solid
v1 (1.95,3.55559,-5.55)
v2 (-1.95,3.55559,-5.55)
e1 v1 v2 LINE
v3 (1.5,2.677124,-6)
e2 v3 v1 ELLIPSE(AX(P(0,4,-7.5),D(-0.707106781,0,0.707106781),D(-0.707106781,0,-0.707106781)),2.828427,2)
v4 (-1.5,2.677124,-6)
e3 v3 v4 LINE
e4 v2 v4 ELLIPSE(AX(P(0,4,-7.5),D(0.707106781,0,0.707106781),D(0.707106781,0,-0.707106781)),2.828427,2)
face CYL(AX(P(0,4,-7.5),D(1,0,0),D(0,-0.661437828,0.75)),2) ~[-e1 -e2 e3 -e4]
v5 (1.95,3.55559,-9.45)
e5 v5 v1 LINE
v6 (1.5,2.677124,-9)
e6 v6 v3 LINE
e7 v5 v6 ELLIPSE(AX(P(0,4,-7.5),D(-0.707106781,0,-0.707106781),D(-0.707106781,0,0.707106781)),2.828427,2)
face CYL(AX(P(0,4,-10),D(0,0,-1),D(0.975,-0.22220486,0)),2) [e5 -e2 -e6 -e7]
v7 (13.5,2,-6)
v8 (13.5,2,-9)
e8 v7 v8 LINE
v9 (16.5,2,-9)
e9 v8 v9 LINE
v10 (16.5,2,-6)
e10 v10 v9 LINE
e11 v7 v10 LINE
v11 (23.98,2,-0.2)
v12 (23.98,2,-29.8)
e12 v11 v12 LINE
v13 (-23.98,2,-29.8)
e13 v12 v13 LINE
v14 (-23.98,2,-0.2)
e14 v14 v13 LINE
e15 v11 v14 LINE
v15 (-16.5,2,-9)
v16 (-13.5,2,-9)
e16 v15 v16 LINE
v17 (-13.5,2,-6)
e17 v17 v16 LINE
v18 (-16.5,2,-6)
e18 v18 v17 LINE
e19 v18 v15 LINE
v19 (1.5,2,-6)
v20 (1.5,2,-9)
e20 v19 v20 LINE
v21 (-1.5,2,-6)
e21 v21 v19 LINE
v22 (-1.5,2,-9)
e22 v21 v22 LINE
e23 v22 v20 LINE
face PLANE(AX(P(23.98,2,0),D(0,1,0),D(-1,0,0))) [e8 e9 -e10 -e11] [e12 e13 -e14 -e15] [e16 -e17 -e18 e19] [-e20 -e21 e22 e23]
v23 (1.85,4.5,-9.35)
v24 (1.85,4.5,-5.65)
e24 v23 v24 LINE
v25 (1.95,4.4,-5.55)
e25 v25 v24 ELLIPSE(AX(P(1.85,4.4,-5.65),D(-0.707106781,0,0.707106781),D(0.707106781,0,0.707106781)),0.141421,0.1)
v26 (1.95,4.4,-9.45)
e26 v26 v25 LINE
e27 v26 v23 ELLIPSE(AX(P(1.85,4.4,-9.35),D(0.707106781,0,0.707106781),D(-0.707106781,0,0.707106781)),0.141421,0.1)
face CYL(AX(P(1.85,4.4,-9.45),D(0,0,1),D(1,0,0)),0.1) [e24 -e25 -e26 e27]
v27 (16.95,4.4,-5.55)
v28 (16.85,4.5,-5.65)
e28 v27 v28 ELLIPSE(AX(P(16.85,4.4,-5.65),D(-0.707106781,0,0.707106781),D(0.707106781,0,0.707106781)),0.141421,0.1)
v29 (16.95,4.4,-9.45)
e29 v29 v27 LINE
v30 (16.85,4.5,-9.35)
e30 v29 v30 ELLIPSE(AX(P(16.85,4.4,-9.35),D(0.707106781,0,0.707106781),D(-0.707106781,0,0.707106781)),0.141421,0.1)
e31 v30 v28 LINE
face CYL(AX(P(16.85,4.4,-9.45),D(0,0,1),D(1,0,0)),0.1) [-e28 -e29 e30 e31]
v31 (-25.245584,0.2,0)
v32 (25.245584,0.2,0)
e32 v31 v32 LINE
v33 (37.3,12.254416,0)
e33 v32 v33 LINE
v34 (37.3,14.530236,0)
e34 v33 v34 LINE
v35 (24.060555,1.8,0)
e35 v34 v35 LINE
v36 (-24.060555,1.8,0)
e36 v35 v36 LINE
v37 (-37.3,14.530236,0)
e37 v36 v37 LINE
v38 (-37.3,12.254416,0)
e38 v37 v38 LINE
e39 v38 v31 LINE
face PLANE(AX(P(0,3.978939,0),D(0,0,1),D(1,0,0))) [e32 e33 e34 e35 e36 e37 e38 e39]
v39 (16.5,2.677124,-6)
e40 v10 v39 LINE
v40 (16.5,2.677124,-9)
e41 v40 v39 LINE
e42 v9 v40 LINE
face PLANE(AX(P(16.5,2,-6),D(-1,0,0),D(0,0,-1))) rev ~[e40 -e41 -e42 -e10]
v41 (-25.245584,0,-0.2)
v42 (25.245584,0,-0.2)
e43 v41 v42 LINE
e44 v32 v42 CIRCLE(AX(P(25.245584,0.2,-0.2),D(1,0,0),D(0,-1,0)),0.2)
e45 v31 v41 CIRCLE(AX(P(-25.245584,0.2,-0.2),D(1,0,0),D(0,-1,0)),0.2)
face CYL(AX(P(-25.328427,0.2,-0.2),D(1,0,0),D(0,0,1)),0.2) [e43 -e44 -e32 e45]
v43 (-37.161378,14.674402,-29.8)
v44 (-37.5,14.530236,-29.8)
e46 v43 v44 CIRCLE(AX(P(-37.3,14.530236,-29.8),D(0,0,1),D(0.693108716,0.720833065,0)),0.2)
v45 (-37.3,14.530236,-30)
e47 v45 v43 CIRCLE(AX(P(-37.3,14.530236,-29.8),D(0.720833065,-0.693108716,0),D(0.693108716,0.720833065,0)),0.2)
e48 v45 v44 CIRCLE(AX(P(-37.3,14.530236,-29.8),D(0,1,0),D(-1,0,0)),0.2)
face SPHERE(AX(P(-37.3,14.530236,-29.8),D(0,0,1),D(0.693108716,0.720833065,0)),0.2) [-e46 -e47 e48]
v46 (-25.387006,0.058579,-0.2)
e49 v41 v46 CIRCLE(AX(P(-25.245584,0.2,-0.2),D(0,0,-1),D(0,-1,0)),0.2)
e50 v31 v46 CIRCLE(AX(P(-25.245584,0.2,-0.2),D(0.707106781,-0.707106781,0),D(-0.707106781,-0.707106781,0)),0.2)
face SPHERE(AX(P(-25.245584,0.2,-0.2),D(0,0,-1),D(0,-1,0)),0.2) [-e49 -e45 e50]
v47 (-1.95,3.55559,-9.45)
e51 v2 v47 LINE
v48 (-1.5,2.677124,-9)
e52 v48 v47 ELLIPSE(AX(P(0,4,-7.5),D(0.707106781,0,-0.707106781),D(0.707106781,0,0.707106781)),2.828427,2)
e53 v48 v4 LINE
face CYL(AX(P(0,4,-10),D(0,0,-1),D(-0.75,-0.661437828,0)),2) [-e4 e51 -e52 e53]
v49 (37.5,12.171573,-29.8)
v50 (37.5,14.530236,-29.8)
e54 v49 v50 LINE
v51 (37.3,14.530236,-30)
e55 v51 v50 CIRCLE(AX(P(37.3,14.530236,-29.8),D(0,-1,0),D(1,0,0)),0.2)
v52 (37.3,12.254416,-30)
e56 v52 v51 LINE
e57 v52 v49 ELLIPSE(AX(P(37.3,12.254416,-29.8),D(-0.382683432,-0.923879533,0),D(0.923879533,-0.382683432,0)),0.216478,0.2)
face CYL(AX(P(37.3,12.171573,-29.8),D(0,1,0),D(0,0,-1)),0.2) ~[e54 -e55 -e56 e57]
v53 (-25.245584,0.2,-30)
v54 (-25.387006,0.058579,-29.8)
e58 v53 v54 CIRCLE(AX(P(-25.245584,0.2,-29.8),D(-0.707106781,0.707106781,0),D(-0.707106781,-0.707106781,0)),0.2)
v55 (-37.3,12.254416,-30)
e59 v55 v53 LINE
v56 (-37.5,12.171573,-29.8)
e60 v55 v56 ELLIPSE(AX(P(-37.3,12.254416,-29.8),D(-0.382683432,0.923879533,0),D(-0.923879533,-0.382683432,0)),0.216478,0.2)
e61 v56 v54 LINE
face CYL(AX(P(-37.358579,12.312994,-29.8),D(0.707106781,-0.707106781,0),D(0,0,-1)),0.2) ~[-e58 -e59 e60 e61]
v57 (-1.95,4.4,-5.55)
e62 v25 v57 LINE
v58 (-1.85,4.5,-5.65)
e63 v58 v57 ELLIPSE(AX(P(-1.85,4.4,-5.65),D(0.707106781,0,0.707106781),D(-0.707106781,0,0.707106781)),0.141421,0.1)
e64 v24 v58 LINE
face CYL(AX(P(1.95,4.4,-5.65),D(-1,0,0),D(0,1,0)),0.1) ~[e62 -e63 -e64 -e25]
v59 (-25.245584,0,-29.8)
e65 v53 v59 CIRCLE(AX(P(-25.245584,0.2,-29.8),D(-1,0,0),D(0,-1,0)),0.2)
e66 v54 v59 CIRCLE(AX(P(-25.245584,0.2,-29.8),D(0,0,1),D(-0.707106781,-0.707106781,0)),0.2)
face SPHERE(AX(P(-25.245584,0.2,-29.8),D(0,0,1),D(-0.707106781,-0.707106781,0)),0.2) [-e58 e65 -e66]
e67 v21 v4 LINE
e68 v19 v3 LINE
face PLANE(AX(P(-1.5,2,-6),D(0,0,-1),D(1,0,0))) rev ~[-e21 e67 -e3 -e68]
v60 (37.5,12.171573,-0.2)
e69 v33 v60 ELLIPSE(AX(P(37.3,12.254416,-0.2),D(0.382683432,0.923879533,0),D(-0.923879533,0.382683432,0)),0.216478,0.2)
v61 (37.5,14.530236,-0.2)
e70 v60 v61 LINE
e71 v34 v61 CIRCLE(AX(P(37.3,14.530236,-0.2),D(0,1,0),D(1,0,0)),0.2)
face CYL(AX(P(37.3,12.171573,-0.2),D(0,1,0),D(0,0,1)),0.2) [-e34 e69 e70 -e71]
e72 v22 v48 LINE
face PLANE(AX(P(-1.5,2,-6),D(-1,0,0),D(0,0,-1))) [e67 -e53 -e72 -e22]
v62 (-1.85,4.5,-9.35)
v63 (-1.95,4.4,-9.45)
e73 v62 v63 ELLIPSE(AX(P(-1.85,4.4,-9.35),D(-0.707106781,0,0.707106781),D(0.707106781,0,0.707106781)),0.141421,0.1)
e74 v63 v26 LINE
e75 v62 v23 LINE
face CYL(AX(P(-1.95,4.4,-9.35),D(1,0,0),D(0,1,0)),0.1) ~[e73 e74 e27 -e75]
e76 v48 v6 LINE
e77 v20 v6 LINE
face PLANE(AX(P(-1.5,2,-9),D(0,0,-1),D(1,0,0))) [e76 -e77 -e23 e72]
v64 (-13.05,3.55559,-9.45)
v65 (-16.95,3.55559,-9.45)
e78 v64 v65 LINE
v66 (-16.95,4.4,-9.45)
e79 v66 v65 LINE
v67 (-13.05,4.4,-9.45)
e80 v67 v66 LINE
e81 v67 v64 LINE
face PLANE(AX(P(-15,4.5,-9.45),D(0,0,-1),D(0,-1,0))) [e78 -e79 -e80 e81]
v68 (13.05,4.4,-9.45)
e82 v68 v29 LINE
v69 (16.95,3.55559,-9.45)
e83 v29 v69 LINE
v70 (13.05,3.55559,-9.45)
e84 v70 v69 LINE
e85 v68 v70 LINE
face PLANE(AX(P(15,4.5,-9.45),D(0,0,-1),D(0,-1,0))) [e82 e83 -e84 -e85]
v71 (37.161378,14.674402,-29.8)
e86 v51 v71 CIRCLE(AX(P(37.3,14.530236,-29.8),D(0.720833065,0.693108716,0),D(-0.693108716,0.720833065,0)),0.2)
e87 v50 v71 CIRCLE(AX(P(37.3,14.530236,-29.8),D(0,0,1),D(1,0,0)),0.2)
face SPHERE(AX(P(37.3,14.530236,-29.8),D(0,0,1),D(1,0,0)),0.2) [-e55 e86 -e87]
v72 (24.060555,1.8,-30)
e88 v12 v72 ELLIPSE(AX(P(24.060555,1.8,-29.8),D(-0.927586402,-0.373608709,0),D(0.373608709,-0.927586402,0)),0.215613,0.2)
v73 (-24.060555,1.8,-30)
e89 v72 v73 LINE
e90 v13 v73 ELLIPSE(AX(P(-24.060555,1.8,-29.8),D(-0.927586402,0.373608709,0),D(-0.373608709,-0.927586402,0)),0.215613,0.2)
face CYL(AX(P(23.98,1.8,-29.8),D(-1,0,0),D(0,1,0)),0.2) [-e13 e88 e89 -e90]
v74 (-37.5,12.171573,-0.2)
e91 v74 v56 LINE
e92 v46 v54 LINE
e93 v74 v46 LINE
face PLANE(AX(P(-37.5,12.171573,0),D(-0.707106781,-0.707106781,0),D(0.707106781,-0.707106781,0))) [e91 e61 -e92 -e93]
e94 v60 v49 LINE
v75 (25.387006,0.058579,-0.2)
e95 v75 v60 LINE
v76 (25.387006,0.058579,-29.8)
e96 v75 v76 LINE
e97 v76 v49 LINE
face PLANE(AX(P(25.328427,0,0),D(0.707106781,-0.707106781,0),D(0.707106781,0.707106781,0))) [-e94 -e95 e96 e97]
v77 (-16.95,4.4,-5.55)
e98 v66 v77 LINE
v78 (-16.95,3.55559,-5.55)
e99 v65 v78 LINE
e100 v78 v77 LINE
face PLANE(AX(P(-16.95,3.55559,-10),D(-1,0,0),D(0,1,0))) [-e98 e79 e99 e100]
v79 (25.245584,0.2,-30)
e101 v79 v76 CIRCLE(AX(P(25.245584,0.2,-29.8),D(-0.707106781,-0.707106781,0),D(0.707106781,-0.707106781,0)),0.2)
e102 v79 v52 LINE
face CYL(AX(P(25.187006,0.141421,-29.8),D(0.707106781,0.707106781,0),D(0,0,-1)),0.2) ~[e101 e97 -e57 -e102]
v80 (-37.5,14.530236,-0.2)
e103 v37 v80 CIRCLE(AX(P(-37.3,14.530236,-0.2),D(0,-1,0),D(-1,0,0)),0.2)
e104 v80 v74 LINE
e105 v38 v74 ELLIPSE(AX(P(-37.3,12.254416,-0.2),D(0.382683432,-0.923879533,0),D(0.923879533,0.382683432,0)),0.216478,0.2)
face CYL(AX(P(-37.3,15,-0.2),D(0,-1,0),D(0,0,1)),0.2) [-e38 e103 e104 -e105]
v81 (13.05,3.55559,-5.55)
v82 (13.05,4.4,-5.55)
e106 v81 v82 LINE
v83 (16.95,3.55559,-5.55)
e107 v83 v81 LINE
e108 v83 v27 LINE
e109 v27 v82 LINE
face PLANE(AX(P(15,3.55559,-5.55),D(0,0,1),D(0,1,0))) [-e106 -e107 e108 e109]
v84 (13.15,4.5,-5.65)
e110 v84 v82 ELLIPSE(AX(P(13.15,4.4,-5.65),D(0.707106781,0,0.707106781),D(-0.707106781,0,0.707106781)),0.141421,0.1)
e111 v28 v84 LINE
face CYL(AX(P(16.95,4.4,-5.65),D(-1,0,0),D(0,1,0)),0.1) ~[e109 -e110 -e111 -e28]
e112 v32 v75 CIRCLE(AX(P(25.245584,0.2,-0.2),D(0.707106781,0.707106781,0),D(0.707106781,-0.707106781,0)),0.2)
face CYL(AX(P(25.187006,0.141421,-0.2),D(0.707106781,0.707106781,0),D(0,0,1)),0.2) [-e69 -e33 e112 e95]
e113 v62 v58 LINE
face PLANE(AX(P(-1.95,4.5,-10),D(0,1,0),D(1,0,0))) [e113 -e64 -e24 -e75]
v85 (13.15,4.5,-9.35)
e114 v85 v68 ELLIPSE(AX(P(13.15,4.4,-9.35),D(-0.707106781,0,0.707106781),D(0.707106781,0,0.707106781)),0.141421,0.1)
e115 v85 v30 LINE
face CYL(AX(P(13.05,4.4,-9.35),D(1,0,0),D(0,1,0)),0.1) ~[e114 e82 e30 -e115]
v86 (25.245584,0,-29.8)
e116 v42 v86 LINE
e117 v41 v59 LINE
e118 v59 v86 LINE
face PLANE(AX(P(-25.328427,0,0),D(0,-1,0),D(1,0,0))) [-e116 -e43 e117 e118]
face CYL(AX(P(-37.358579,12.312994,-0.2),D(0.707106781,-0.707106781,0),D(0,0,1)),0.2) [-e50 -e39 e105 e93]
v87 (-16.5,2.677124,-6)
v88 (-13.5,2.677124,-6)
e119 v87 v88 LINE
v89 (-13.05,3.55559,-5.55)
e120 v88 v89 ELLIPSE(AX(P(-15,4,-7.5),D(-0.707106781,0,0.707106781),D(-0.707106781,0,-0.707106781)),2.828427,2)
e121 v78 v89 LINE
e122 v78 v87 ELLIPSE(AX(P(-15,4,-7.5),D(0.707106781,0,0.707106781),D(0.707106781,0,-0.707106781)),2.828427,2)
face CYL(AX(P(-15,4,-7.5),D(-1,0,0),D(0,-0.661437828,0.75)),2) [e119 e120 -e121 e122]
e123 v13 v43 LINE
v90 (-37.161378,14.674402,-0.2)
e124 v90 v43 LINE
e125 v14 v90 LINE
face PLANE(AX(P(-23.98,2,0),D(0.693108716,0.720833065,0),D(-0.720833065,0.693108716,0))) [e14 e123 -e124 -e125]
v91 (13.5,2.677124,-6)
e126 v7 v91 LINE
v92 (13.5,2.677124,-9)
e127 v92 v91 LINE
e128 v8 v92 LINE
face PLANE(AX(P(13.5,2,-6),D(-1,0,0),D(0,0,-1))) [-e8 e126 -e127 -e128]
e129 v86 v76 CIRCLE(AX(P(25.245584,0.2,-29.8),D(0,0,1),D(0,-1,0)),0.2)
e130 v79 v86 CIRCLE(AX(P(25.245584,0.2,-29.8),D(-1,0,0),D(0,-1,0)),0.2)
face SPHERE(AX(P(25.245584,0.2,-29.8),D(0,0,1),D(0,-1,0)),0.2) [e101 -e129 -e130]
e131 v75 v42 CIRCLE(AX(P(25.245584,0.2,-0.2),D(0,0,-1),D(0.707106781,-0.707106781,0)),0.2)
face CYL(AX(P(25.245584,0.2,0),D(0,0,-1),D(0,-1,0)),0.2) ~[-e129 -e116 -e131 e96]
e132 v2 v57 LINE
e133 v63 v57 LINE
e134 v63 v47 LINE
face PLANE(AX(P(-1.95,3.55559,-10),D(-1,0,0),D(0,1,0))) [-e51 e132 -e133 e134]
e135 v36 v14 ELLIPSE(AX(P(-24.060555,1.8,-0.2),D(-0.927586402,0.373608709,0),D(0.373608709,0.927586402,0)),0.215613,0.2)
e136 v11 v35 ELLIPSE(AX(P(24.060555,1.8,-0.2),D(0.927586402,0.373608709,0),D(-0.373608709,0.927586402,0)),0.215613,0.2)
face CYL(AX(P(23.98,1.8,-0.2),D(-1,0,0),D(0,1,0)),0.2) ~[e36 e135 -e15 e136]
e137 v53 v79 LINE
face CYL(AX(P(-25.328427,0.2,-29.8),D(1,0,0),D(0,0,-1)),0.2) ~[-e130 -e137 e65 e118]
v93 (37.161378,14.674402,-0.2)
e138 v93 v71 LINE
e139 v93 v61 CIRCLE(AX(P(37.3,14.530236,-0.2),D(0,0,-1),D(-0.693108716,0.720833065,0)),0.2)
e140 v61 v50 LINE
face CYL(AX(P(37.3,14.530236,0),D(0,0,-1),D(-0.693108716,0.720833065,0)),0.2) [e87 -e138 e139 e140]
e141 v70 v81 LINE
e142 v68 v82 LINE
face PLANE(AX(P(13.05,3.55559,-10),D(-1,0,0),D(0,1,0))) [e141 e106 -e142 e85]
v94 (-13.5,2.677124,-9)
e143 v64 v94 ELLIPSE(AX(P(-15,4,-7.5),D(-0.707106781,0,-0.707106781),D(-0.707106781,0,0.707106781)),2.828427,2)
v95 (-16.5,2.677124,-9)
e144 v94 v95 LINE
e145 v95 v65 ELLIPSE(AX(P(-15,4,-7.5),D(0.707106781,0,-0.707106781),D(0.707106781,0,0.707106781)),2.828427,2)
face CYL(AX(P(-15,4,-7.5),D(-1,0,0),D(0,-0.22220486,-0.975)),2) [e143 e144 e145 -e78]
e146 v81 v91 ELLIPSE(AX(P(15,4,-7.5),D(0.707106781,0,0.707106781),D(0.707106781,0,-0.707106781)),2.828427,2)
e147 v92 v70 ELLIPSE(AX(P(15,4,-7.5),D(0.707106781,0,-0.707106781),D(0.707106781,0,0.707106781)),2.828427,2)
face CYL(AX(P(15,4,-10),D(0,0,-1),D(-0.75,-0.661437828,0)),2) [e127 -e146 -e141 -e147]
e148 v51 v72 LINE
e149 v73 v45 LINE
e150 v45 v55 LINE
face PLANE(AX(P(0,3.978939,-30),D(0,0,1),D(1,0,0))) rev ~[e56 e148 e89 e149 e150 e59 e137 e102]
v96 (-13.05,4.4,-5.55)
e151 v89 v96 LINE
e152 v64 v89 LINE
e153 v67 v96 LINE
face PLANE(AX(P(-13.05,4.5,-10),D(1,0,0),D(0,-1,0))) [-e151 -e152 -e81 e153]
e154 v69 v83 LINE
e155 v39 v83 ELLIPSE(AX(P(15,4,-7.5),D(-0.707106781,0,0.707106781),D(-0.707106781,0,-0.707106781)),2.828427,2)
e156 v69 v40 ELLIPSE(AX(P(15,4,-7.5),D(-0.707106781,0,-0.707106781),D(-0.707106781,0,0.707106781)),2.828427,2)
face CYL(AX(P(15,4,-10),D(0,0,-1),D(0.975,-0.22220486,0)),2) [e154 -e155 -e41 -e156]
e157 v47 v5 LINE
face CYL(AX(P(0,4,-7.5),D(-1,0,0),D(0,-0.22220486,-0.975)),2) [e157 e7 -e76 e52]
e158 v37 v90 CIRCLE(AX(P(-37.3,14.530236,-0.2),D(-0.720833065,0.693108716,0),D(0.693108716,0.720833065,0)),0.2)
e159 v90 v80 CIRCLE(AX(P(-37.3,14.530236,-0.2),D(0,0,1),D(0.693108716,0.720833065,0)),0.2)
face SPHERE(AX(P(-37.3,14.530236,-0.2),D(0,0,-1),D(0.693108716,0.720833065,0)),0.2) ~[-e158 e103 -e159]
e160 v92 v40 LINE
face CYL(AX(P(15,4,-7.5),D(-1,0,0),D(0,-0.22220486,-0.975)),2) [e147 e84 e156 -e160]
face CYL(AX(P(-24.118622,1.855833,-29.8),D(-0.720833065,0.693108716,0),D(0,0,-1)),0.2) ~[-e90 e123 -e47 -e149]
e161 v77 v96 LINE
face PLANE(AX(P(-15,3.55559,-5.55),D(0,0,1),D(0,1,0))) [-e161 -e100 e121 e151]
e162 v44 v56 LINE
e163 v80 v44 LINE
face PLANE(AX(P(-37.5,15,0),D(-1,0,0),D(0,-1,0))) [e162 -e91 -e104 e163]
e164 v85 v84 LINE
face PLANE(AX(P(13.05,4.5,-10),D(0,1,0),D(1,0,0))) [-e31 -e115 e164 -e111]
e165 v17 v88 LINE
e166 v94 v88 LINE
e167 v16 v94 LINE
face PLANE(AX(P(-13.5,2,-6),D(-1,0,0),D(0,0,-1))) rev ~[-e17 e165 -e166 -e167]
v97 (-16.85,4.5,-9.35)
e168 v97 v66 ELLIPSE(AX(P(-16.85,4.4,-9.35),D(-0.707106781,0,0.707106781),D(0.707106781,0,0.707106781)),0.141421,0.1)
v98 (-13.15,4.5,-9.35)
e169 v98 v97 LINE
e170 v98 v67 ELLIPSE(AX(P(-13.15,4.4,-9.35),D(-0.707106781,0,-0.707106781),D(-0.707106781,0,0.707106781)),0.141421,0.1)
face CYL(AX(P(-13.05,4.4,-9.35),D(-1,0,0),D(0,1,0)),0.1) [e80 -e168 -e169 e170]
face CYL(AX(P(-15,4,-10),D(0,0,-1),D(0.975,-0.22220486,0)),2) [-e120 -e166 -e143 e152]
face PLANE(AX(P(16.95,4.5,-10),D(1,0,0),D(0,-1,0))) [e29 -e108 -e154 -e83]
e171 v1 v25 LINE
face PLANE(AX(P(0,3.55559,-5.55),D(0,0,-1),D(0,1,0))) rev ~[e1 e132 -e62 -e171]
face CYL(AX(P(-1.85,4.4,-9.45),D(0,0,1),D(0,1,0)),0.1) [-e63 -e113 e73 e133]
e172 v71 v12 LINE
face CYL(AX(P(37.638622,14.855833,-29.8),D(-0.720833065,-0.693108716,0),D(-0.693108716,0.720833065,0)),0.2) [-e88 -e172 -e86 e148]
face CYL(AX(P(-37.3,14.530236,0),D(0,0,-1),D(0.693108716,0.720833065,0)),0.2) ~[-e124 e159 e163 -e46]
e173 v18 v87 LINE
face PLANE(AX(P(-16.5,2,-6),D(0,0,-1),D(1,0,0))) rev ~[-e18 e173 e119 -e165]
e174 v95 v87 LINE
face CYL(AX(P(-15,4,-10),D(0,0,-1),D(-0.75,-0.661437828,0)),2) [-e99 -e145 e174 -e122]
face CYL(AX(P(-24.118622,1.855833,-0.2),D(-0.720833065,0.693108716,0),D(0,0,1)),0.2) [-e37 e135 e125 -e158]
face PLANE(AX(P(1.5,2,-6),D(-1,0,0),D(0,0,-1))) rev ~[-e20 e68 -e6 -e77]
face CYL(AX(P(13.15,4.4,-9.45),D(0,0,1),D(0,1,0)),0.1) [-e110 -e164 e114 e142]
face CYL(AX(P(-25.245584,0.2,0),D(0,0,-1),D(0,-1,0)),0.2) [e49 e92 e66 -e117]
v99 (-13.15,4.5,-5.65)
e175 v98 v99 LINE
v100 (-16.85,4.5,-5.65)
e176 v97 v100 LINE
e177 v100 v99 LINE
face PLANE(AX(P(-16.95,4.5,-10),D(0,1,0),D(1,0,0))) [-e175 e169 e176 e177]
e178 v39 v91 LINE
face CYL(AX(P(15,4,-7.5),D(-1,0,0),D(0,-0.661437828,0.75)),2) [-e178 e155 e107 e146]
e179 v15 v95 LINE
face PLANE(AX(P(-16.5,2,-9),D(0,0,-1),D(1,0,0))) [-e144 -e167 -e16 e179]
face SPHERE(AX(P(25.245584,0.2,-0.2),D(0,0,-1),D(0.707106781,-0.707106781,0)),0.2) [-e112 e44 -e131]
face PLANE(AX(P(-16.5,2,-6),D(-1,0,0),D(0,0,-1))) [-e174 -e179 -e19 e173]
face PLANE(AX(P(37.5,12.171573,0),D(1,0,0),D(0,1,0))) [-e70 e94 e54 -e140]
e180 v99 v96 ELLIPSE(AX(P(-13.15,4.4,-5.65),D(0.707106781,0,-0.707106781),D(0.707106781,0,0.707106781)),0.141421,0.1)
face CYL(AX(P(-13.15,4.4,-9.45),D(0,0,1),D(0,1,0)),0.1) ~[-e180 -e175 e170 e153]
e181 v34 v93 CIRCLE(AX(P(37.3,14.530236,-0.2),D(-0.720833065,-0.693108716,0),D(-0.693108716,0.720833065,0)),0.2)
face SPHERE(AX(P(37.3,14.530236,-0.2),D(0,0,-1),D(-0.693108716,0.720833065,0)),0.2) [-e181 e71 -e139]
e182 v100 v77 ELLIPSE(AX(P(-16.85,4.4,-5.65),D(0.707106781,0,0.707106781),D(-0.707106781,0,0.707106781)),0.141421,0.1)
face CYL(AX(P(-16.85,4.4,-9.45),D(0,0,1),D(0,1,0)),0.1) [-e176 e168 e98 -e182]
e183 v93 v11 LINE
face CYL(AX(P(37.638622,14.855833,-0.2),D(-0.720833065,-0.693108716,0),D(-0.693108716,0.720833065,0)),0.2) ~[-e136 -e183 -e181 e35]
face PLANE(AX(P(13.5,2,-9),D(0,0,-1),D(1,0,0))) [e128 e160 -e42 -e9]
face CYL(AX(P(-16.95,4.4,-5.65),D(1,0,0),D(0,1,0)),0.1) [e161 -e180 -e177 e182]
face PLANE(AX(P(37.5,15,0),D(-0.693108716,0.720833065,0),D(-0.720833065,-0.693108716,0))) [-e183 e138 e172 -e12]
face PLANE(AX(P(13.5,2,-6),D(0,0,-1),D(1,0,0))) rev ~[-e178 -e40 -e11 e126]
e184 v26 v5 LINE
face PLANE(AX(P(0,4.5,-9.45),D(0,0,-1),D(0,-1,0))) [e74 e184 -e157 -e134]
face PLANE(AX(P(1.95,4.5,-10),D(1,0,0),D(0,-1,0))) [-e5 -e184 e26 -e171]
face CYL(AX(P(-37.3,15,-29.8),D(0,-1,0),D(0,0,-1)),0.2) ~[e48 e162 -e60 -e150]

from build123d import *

# Parameters (mm, degrees)
EXTRUDE_1_DEPTH                 = 30
SKETCH_2_W                      = 3
SKETCH_2_H                      = 3
EXTRUDE_2_DEPTH                 = 1
EXTRUDE_START                   = -4
EXTRUDE_3_DEPTH                 = 5
CUT_EXTRUDE_1_REACH             = 52.312
CUT_EXTRUDE_1_DIRECTION_2_REACH = 52.312
FILLET_1_R                      = 0.1
PATTERN_LINEAR_1_COUNT          = 2
PATTERN_LINEAR_1_PITCH          = 15
PATTERN_LINEAR_1_COUNT_DIR2     = 2
PATTERN_LINEAR_1_PITCH_DIR2     = 15
FILLET_1_OF_PATTERN_LINEAR_1_R  = 0.1
FILLET_2_R                      = 0.2


with BuildPart() as part:
    # 草图1 → 凸台-拉伸1 (new body)
    with BuildSketch(Plane.XY):
        Polygon((-25.328427125, 0), (25.328427125, 0), (37.5, 12.171572875), (37.5, 15), (23.98, 2), (-23.98, 2), (-37.5, 15), (-37.5, 12.171572875), align=None)
    extrude(amount=-EXTRUDE_1_DEPTH)

    # 草图2 → 凸台-拉伸2 (add)
    with BuildSketch(Plane(origin=(0, 2, 0), x_dir=(1, 0, 0), z_dir=(0, 1, 0))):
        with Locations((0, 7.5)):
            Rectangle(SKETCH_2_W, SKETCH_2_H)
    extrude_2 = extrude(amount=EXTRUDE_2_DEPTH)

    # 草图3 → 凸台-拉伸3 (add)
    with BuildSketch(Plane.XY.offset(-6).offset(EXTRUDE_START)):
        with BuildLine():
            Line((-1.95, 4.5), (1.95, 4.5))
            Line((1.95, 4.5), (1.95, 3.555590279))
            ThreePointArc((1.95, 3.555590279), (1.780042303, 3.088161527), (1.5, 2.677124344))
            Line((1.5, 2.677124344), (-1.5, 2.677124344))
            ThreePointArc((-1.5, 2.677124344), (-1.780042303, 3.088161527), (-1.95, 3.555590279))
            Line((-1.95, 3.555590279), (-1.95, 4.5))
        make_face()
    extrude_3 = extrude(amount=EXTRUDE_3_DEPTH)

    # 草图4 → 切除-拉伸1 (cut, up to next)
    with BuildSketch(Plane(origin=(0, 0, 0), x_dir=(0, 0, -1), z_dir=(1, 0, 0)), mode=Mode.PRIVATE) as cut_extrude_1_sk1:
        with BuildLine():
            Line((10, 4.5), (9.45, 4.5))
            Line((9.45, 4.5), (9.45, 3.555590279))
            ThreePointArc((9.45, 3.555590279), (9.280042303, 3.088161527), (9, 2.677124344))
            Line((9, 2.677124344), (10, 2.677124344))
            Line((10, 2.677124344), (10, 4.5))
        make_face()
    cut_extrude_1_tool1 = extrude(cut_extrude_1_sk1.sketch, amount=-CUT_EXTRUDE_1_REACH, mode=Mode.PRIVATE) & part.part
    # 草图4 → 切除-拉伸1 (cut, up to next)
    with BuildSketch(Plane(origin=(0, 0, 0), x_dir=(0, 0, -1), z_dir=(1, 0, 0)), mode=Mode.PRIVATE) as cut_extrude_1_sk2:
        with BuildLine():
            Line((5, 4.5), (5, 2.677124344))
            Line((5, 2.677124344), (6, 2.677124344))
            ThreePointArc((6, 2.677124344), (5.719957697, 3.088161527), (5.55, 3.555590279))
            Line((5.55, 3.555590279), (5.55, 4.5))
            Line((5.55, 4.5), (5, 4.5))
        make_face()
    cut_extrude_1_tool2 = extrude(cut_extrude_1_sk2.sketch, amount=-CUT_EXTRUDE_1_REACH, mode=Mode.PRIVATE) & part.part
    cut_extrude_1_1 = cut_extrude_1_tool1.solids().sort_by_distance((0, 3.500125, -9.669375))[0]
    add(cut_extrude_1_1, mode=Mode.SUBTRACT)
    cut_extrude_1_2 = cut_extrude_1_tool2.solids().sort_by_distance((0, 3.500125, -5.330625))[0]
    add(cut_extrude_1_2, mode=Mode.SUBTRACT)
    cut_extrude_1 = cut_extrude_1_1 + cut_extrude_1_2  # 切除-拉伸1 as one shape, for the pattern or mirror that repeats it

    # 草图4 → 切除-拉伸1 direction 2 (cut, up to next)
    with BuildSketch(Plane(origin=(0, 0, 0), x_dir=(0, 0, -1), z_dir=(1, 0, 0)), mode=Mode.PRIVATE) as cut_extrude_1_direction_2_sk1:
        with BuildLine():
            Line((10, 4.5), (9.45, 4.5))
            Line((9.45, 4.5), (9.45, 3.555590279))
            ThreePointArc((9.45, 3.555590279), (9.280042303, 3.088161527), (9, 2.677124344))
            Line((9, 2.677124344), (10, 2.677124344))
            Line((10, 2.677124344), (10, 4.5))
        make_face()
    cut_extrude_1_direction_2_tool1 = extrude(cut_extrude_1_direction_2_sk1.sketch, amount=CUT_EXTRUDE_1_DIRECTION_2_REACH, mode=Mode.PRIVATE) & part.part
    # 草图4 → 切除-拉伸1 direction 2 (cut, up to next)
    with BuildSketch(Plane(origin=(0, 0, 0), x_dir=(0, 0, -1), z_dir=(1, 0, 0)), mode=Mode.PRIVATE) as cut_extrude_1_direction_2_sk2:
        with BuildLine():
            Line((5, 4.5), (5, 2.677124344))
            Line((5, 2.677124344), (6, 2.677124344))
            ThreePointArc((6, 2.677124344), (5.719957697, 3.088161527), (5.55, 3.555590279))
            Line((5.55, 3.555590279), (5.55, 4.5))
            Line((5.55, 4.5), (5, 4.5))
        make_face()
    cut_extrude_1_direction_2_tool2 = extrude(cut_extrude_1_direction_2_sk2.sketch, amount=CUT_EXTRUDE_1_DIRECTION_2_REACH, mode=Mode.PRIVATE) & part.part
    cut_extrude_1_direction_2_1 = cut_extrude_1_direction_2_tool1.solids().sort_by_distance((0, 3.500125, -9.669375))[0]
    add(cut_extrude_1_direction_2_1, mode=Mode.SUBTRACT)
    cut_extrude_1_direction_2_2 = cut_extrude_1_direction_2_tool2.solids().sort_by_distance((0, 3.500125, -5.330625))[0]
    add(cut_extrude_1_direction_2_2, mode=Mode.SUBTRACT)
    cut_extrude_1_direction_2 = cut_extrude_1_direction_2_1 + cut_extrude_1_direction_2_2  # 切除-拉伸1 direction 2 as one shape, for the pattern or mirror that repeats it

    # 圆角1
    fillet_1_edges = [part.edges().sort_by_distance(p)[0] for p in [
        (1.95, 4.5, -7.5),
        (-1.95, 4.5, -7.5),
        (0, 4.5, -9.45),
        (0, 4.5, -5.55),
    ]]
    fillet(fillet_1_edges, radius=FILLET_1_R)

    # 阵列(线性)1: 凸台-拉伸2, 凸台-拉伸3, 切除-拉伸1, 切除-拉伸1 direction 2 2 × 2
    with Locations(*[Vector(1, 0, 0) * (i * PATTERN_LINEAR_1_PITCH) + Vector(-1, 0, 0) * (j * PATTERN_LINEAR_1_PITCH_DIR2) for i in range(PATTERN_LINEAR_1_COUNT) for j in range(PATTERN_LINEAR_1_COUNT_DIR2) if (i, j) != (0, 0)]):
        add(extrude_2)
        add(extrude_3)
        add(cut_extrude_1, mode=Mode.SUBTRACT)
        add(cut_extrude_1_direction_2, mode=Mode.SUBTRACT)

    # 圆角1 of 阵列(线性)1
    fillet_1_of_pattern_linear_1_edges = [part.edges().sort_by_distance(p)[0] for p in [
        (-13.05, 4.5, -7.5),
        (-16.95, 4.5, -7.5),
        (-15, 4.5, -9.45),
        (-15, 4.5, -5.55),
        (16.95, 4.5, -7.5),
        (13.05, 4.5, -7.5),
        (15, 4.5, -9.45),
        (15, 4.5, -5.55),
        (1.95, 4.5, -7.5),
        (-1.95, 4.5, -7.5),
        (0, 4.5, -9.45),
        (0, 4.5, -5.55),
    ]]
    fillet(fillet_1_of_pattern_linear_1_edges, radius=FILLET_1_OF_PATTERN_LINEAR_1_R)

    # 圆角2
    fillet_2_edges = [part.edges().sort_by_distance(p)[0] for p in [
        (0, 0, -30),
        (-31.414213562, 6.085786438, 0),
        (-37.5, 13.585786438, 0),
        (31.414213562, 6.085786438, -30),
        (-37.5, 15, -15),
        (37.5, 15, -15),
        (25.328427125, 0, -15),
        (-25.328427125, 0, -15),
        (37.5, 13.585786438, -30),
        (30.74, 8.5, -30),
        (0, 2, -30),
        (-30.74, 8.5, -30),
        (-37.5, 13.585786438, -30),
        (-31.414213562, 6.085786438, -30),
        (-30.74, 8.5, 0),
        (0, 2, 0),
        (30.74, 8.5, 0),
        (37.5, 13.585786438, 0),
        (31.414213562, 6.085786438, 0),
        (0, 0, 0),
    ]]
    fillet(fillet_2_edges, radius=FILLET_2_R)


solid = part.part
